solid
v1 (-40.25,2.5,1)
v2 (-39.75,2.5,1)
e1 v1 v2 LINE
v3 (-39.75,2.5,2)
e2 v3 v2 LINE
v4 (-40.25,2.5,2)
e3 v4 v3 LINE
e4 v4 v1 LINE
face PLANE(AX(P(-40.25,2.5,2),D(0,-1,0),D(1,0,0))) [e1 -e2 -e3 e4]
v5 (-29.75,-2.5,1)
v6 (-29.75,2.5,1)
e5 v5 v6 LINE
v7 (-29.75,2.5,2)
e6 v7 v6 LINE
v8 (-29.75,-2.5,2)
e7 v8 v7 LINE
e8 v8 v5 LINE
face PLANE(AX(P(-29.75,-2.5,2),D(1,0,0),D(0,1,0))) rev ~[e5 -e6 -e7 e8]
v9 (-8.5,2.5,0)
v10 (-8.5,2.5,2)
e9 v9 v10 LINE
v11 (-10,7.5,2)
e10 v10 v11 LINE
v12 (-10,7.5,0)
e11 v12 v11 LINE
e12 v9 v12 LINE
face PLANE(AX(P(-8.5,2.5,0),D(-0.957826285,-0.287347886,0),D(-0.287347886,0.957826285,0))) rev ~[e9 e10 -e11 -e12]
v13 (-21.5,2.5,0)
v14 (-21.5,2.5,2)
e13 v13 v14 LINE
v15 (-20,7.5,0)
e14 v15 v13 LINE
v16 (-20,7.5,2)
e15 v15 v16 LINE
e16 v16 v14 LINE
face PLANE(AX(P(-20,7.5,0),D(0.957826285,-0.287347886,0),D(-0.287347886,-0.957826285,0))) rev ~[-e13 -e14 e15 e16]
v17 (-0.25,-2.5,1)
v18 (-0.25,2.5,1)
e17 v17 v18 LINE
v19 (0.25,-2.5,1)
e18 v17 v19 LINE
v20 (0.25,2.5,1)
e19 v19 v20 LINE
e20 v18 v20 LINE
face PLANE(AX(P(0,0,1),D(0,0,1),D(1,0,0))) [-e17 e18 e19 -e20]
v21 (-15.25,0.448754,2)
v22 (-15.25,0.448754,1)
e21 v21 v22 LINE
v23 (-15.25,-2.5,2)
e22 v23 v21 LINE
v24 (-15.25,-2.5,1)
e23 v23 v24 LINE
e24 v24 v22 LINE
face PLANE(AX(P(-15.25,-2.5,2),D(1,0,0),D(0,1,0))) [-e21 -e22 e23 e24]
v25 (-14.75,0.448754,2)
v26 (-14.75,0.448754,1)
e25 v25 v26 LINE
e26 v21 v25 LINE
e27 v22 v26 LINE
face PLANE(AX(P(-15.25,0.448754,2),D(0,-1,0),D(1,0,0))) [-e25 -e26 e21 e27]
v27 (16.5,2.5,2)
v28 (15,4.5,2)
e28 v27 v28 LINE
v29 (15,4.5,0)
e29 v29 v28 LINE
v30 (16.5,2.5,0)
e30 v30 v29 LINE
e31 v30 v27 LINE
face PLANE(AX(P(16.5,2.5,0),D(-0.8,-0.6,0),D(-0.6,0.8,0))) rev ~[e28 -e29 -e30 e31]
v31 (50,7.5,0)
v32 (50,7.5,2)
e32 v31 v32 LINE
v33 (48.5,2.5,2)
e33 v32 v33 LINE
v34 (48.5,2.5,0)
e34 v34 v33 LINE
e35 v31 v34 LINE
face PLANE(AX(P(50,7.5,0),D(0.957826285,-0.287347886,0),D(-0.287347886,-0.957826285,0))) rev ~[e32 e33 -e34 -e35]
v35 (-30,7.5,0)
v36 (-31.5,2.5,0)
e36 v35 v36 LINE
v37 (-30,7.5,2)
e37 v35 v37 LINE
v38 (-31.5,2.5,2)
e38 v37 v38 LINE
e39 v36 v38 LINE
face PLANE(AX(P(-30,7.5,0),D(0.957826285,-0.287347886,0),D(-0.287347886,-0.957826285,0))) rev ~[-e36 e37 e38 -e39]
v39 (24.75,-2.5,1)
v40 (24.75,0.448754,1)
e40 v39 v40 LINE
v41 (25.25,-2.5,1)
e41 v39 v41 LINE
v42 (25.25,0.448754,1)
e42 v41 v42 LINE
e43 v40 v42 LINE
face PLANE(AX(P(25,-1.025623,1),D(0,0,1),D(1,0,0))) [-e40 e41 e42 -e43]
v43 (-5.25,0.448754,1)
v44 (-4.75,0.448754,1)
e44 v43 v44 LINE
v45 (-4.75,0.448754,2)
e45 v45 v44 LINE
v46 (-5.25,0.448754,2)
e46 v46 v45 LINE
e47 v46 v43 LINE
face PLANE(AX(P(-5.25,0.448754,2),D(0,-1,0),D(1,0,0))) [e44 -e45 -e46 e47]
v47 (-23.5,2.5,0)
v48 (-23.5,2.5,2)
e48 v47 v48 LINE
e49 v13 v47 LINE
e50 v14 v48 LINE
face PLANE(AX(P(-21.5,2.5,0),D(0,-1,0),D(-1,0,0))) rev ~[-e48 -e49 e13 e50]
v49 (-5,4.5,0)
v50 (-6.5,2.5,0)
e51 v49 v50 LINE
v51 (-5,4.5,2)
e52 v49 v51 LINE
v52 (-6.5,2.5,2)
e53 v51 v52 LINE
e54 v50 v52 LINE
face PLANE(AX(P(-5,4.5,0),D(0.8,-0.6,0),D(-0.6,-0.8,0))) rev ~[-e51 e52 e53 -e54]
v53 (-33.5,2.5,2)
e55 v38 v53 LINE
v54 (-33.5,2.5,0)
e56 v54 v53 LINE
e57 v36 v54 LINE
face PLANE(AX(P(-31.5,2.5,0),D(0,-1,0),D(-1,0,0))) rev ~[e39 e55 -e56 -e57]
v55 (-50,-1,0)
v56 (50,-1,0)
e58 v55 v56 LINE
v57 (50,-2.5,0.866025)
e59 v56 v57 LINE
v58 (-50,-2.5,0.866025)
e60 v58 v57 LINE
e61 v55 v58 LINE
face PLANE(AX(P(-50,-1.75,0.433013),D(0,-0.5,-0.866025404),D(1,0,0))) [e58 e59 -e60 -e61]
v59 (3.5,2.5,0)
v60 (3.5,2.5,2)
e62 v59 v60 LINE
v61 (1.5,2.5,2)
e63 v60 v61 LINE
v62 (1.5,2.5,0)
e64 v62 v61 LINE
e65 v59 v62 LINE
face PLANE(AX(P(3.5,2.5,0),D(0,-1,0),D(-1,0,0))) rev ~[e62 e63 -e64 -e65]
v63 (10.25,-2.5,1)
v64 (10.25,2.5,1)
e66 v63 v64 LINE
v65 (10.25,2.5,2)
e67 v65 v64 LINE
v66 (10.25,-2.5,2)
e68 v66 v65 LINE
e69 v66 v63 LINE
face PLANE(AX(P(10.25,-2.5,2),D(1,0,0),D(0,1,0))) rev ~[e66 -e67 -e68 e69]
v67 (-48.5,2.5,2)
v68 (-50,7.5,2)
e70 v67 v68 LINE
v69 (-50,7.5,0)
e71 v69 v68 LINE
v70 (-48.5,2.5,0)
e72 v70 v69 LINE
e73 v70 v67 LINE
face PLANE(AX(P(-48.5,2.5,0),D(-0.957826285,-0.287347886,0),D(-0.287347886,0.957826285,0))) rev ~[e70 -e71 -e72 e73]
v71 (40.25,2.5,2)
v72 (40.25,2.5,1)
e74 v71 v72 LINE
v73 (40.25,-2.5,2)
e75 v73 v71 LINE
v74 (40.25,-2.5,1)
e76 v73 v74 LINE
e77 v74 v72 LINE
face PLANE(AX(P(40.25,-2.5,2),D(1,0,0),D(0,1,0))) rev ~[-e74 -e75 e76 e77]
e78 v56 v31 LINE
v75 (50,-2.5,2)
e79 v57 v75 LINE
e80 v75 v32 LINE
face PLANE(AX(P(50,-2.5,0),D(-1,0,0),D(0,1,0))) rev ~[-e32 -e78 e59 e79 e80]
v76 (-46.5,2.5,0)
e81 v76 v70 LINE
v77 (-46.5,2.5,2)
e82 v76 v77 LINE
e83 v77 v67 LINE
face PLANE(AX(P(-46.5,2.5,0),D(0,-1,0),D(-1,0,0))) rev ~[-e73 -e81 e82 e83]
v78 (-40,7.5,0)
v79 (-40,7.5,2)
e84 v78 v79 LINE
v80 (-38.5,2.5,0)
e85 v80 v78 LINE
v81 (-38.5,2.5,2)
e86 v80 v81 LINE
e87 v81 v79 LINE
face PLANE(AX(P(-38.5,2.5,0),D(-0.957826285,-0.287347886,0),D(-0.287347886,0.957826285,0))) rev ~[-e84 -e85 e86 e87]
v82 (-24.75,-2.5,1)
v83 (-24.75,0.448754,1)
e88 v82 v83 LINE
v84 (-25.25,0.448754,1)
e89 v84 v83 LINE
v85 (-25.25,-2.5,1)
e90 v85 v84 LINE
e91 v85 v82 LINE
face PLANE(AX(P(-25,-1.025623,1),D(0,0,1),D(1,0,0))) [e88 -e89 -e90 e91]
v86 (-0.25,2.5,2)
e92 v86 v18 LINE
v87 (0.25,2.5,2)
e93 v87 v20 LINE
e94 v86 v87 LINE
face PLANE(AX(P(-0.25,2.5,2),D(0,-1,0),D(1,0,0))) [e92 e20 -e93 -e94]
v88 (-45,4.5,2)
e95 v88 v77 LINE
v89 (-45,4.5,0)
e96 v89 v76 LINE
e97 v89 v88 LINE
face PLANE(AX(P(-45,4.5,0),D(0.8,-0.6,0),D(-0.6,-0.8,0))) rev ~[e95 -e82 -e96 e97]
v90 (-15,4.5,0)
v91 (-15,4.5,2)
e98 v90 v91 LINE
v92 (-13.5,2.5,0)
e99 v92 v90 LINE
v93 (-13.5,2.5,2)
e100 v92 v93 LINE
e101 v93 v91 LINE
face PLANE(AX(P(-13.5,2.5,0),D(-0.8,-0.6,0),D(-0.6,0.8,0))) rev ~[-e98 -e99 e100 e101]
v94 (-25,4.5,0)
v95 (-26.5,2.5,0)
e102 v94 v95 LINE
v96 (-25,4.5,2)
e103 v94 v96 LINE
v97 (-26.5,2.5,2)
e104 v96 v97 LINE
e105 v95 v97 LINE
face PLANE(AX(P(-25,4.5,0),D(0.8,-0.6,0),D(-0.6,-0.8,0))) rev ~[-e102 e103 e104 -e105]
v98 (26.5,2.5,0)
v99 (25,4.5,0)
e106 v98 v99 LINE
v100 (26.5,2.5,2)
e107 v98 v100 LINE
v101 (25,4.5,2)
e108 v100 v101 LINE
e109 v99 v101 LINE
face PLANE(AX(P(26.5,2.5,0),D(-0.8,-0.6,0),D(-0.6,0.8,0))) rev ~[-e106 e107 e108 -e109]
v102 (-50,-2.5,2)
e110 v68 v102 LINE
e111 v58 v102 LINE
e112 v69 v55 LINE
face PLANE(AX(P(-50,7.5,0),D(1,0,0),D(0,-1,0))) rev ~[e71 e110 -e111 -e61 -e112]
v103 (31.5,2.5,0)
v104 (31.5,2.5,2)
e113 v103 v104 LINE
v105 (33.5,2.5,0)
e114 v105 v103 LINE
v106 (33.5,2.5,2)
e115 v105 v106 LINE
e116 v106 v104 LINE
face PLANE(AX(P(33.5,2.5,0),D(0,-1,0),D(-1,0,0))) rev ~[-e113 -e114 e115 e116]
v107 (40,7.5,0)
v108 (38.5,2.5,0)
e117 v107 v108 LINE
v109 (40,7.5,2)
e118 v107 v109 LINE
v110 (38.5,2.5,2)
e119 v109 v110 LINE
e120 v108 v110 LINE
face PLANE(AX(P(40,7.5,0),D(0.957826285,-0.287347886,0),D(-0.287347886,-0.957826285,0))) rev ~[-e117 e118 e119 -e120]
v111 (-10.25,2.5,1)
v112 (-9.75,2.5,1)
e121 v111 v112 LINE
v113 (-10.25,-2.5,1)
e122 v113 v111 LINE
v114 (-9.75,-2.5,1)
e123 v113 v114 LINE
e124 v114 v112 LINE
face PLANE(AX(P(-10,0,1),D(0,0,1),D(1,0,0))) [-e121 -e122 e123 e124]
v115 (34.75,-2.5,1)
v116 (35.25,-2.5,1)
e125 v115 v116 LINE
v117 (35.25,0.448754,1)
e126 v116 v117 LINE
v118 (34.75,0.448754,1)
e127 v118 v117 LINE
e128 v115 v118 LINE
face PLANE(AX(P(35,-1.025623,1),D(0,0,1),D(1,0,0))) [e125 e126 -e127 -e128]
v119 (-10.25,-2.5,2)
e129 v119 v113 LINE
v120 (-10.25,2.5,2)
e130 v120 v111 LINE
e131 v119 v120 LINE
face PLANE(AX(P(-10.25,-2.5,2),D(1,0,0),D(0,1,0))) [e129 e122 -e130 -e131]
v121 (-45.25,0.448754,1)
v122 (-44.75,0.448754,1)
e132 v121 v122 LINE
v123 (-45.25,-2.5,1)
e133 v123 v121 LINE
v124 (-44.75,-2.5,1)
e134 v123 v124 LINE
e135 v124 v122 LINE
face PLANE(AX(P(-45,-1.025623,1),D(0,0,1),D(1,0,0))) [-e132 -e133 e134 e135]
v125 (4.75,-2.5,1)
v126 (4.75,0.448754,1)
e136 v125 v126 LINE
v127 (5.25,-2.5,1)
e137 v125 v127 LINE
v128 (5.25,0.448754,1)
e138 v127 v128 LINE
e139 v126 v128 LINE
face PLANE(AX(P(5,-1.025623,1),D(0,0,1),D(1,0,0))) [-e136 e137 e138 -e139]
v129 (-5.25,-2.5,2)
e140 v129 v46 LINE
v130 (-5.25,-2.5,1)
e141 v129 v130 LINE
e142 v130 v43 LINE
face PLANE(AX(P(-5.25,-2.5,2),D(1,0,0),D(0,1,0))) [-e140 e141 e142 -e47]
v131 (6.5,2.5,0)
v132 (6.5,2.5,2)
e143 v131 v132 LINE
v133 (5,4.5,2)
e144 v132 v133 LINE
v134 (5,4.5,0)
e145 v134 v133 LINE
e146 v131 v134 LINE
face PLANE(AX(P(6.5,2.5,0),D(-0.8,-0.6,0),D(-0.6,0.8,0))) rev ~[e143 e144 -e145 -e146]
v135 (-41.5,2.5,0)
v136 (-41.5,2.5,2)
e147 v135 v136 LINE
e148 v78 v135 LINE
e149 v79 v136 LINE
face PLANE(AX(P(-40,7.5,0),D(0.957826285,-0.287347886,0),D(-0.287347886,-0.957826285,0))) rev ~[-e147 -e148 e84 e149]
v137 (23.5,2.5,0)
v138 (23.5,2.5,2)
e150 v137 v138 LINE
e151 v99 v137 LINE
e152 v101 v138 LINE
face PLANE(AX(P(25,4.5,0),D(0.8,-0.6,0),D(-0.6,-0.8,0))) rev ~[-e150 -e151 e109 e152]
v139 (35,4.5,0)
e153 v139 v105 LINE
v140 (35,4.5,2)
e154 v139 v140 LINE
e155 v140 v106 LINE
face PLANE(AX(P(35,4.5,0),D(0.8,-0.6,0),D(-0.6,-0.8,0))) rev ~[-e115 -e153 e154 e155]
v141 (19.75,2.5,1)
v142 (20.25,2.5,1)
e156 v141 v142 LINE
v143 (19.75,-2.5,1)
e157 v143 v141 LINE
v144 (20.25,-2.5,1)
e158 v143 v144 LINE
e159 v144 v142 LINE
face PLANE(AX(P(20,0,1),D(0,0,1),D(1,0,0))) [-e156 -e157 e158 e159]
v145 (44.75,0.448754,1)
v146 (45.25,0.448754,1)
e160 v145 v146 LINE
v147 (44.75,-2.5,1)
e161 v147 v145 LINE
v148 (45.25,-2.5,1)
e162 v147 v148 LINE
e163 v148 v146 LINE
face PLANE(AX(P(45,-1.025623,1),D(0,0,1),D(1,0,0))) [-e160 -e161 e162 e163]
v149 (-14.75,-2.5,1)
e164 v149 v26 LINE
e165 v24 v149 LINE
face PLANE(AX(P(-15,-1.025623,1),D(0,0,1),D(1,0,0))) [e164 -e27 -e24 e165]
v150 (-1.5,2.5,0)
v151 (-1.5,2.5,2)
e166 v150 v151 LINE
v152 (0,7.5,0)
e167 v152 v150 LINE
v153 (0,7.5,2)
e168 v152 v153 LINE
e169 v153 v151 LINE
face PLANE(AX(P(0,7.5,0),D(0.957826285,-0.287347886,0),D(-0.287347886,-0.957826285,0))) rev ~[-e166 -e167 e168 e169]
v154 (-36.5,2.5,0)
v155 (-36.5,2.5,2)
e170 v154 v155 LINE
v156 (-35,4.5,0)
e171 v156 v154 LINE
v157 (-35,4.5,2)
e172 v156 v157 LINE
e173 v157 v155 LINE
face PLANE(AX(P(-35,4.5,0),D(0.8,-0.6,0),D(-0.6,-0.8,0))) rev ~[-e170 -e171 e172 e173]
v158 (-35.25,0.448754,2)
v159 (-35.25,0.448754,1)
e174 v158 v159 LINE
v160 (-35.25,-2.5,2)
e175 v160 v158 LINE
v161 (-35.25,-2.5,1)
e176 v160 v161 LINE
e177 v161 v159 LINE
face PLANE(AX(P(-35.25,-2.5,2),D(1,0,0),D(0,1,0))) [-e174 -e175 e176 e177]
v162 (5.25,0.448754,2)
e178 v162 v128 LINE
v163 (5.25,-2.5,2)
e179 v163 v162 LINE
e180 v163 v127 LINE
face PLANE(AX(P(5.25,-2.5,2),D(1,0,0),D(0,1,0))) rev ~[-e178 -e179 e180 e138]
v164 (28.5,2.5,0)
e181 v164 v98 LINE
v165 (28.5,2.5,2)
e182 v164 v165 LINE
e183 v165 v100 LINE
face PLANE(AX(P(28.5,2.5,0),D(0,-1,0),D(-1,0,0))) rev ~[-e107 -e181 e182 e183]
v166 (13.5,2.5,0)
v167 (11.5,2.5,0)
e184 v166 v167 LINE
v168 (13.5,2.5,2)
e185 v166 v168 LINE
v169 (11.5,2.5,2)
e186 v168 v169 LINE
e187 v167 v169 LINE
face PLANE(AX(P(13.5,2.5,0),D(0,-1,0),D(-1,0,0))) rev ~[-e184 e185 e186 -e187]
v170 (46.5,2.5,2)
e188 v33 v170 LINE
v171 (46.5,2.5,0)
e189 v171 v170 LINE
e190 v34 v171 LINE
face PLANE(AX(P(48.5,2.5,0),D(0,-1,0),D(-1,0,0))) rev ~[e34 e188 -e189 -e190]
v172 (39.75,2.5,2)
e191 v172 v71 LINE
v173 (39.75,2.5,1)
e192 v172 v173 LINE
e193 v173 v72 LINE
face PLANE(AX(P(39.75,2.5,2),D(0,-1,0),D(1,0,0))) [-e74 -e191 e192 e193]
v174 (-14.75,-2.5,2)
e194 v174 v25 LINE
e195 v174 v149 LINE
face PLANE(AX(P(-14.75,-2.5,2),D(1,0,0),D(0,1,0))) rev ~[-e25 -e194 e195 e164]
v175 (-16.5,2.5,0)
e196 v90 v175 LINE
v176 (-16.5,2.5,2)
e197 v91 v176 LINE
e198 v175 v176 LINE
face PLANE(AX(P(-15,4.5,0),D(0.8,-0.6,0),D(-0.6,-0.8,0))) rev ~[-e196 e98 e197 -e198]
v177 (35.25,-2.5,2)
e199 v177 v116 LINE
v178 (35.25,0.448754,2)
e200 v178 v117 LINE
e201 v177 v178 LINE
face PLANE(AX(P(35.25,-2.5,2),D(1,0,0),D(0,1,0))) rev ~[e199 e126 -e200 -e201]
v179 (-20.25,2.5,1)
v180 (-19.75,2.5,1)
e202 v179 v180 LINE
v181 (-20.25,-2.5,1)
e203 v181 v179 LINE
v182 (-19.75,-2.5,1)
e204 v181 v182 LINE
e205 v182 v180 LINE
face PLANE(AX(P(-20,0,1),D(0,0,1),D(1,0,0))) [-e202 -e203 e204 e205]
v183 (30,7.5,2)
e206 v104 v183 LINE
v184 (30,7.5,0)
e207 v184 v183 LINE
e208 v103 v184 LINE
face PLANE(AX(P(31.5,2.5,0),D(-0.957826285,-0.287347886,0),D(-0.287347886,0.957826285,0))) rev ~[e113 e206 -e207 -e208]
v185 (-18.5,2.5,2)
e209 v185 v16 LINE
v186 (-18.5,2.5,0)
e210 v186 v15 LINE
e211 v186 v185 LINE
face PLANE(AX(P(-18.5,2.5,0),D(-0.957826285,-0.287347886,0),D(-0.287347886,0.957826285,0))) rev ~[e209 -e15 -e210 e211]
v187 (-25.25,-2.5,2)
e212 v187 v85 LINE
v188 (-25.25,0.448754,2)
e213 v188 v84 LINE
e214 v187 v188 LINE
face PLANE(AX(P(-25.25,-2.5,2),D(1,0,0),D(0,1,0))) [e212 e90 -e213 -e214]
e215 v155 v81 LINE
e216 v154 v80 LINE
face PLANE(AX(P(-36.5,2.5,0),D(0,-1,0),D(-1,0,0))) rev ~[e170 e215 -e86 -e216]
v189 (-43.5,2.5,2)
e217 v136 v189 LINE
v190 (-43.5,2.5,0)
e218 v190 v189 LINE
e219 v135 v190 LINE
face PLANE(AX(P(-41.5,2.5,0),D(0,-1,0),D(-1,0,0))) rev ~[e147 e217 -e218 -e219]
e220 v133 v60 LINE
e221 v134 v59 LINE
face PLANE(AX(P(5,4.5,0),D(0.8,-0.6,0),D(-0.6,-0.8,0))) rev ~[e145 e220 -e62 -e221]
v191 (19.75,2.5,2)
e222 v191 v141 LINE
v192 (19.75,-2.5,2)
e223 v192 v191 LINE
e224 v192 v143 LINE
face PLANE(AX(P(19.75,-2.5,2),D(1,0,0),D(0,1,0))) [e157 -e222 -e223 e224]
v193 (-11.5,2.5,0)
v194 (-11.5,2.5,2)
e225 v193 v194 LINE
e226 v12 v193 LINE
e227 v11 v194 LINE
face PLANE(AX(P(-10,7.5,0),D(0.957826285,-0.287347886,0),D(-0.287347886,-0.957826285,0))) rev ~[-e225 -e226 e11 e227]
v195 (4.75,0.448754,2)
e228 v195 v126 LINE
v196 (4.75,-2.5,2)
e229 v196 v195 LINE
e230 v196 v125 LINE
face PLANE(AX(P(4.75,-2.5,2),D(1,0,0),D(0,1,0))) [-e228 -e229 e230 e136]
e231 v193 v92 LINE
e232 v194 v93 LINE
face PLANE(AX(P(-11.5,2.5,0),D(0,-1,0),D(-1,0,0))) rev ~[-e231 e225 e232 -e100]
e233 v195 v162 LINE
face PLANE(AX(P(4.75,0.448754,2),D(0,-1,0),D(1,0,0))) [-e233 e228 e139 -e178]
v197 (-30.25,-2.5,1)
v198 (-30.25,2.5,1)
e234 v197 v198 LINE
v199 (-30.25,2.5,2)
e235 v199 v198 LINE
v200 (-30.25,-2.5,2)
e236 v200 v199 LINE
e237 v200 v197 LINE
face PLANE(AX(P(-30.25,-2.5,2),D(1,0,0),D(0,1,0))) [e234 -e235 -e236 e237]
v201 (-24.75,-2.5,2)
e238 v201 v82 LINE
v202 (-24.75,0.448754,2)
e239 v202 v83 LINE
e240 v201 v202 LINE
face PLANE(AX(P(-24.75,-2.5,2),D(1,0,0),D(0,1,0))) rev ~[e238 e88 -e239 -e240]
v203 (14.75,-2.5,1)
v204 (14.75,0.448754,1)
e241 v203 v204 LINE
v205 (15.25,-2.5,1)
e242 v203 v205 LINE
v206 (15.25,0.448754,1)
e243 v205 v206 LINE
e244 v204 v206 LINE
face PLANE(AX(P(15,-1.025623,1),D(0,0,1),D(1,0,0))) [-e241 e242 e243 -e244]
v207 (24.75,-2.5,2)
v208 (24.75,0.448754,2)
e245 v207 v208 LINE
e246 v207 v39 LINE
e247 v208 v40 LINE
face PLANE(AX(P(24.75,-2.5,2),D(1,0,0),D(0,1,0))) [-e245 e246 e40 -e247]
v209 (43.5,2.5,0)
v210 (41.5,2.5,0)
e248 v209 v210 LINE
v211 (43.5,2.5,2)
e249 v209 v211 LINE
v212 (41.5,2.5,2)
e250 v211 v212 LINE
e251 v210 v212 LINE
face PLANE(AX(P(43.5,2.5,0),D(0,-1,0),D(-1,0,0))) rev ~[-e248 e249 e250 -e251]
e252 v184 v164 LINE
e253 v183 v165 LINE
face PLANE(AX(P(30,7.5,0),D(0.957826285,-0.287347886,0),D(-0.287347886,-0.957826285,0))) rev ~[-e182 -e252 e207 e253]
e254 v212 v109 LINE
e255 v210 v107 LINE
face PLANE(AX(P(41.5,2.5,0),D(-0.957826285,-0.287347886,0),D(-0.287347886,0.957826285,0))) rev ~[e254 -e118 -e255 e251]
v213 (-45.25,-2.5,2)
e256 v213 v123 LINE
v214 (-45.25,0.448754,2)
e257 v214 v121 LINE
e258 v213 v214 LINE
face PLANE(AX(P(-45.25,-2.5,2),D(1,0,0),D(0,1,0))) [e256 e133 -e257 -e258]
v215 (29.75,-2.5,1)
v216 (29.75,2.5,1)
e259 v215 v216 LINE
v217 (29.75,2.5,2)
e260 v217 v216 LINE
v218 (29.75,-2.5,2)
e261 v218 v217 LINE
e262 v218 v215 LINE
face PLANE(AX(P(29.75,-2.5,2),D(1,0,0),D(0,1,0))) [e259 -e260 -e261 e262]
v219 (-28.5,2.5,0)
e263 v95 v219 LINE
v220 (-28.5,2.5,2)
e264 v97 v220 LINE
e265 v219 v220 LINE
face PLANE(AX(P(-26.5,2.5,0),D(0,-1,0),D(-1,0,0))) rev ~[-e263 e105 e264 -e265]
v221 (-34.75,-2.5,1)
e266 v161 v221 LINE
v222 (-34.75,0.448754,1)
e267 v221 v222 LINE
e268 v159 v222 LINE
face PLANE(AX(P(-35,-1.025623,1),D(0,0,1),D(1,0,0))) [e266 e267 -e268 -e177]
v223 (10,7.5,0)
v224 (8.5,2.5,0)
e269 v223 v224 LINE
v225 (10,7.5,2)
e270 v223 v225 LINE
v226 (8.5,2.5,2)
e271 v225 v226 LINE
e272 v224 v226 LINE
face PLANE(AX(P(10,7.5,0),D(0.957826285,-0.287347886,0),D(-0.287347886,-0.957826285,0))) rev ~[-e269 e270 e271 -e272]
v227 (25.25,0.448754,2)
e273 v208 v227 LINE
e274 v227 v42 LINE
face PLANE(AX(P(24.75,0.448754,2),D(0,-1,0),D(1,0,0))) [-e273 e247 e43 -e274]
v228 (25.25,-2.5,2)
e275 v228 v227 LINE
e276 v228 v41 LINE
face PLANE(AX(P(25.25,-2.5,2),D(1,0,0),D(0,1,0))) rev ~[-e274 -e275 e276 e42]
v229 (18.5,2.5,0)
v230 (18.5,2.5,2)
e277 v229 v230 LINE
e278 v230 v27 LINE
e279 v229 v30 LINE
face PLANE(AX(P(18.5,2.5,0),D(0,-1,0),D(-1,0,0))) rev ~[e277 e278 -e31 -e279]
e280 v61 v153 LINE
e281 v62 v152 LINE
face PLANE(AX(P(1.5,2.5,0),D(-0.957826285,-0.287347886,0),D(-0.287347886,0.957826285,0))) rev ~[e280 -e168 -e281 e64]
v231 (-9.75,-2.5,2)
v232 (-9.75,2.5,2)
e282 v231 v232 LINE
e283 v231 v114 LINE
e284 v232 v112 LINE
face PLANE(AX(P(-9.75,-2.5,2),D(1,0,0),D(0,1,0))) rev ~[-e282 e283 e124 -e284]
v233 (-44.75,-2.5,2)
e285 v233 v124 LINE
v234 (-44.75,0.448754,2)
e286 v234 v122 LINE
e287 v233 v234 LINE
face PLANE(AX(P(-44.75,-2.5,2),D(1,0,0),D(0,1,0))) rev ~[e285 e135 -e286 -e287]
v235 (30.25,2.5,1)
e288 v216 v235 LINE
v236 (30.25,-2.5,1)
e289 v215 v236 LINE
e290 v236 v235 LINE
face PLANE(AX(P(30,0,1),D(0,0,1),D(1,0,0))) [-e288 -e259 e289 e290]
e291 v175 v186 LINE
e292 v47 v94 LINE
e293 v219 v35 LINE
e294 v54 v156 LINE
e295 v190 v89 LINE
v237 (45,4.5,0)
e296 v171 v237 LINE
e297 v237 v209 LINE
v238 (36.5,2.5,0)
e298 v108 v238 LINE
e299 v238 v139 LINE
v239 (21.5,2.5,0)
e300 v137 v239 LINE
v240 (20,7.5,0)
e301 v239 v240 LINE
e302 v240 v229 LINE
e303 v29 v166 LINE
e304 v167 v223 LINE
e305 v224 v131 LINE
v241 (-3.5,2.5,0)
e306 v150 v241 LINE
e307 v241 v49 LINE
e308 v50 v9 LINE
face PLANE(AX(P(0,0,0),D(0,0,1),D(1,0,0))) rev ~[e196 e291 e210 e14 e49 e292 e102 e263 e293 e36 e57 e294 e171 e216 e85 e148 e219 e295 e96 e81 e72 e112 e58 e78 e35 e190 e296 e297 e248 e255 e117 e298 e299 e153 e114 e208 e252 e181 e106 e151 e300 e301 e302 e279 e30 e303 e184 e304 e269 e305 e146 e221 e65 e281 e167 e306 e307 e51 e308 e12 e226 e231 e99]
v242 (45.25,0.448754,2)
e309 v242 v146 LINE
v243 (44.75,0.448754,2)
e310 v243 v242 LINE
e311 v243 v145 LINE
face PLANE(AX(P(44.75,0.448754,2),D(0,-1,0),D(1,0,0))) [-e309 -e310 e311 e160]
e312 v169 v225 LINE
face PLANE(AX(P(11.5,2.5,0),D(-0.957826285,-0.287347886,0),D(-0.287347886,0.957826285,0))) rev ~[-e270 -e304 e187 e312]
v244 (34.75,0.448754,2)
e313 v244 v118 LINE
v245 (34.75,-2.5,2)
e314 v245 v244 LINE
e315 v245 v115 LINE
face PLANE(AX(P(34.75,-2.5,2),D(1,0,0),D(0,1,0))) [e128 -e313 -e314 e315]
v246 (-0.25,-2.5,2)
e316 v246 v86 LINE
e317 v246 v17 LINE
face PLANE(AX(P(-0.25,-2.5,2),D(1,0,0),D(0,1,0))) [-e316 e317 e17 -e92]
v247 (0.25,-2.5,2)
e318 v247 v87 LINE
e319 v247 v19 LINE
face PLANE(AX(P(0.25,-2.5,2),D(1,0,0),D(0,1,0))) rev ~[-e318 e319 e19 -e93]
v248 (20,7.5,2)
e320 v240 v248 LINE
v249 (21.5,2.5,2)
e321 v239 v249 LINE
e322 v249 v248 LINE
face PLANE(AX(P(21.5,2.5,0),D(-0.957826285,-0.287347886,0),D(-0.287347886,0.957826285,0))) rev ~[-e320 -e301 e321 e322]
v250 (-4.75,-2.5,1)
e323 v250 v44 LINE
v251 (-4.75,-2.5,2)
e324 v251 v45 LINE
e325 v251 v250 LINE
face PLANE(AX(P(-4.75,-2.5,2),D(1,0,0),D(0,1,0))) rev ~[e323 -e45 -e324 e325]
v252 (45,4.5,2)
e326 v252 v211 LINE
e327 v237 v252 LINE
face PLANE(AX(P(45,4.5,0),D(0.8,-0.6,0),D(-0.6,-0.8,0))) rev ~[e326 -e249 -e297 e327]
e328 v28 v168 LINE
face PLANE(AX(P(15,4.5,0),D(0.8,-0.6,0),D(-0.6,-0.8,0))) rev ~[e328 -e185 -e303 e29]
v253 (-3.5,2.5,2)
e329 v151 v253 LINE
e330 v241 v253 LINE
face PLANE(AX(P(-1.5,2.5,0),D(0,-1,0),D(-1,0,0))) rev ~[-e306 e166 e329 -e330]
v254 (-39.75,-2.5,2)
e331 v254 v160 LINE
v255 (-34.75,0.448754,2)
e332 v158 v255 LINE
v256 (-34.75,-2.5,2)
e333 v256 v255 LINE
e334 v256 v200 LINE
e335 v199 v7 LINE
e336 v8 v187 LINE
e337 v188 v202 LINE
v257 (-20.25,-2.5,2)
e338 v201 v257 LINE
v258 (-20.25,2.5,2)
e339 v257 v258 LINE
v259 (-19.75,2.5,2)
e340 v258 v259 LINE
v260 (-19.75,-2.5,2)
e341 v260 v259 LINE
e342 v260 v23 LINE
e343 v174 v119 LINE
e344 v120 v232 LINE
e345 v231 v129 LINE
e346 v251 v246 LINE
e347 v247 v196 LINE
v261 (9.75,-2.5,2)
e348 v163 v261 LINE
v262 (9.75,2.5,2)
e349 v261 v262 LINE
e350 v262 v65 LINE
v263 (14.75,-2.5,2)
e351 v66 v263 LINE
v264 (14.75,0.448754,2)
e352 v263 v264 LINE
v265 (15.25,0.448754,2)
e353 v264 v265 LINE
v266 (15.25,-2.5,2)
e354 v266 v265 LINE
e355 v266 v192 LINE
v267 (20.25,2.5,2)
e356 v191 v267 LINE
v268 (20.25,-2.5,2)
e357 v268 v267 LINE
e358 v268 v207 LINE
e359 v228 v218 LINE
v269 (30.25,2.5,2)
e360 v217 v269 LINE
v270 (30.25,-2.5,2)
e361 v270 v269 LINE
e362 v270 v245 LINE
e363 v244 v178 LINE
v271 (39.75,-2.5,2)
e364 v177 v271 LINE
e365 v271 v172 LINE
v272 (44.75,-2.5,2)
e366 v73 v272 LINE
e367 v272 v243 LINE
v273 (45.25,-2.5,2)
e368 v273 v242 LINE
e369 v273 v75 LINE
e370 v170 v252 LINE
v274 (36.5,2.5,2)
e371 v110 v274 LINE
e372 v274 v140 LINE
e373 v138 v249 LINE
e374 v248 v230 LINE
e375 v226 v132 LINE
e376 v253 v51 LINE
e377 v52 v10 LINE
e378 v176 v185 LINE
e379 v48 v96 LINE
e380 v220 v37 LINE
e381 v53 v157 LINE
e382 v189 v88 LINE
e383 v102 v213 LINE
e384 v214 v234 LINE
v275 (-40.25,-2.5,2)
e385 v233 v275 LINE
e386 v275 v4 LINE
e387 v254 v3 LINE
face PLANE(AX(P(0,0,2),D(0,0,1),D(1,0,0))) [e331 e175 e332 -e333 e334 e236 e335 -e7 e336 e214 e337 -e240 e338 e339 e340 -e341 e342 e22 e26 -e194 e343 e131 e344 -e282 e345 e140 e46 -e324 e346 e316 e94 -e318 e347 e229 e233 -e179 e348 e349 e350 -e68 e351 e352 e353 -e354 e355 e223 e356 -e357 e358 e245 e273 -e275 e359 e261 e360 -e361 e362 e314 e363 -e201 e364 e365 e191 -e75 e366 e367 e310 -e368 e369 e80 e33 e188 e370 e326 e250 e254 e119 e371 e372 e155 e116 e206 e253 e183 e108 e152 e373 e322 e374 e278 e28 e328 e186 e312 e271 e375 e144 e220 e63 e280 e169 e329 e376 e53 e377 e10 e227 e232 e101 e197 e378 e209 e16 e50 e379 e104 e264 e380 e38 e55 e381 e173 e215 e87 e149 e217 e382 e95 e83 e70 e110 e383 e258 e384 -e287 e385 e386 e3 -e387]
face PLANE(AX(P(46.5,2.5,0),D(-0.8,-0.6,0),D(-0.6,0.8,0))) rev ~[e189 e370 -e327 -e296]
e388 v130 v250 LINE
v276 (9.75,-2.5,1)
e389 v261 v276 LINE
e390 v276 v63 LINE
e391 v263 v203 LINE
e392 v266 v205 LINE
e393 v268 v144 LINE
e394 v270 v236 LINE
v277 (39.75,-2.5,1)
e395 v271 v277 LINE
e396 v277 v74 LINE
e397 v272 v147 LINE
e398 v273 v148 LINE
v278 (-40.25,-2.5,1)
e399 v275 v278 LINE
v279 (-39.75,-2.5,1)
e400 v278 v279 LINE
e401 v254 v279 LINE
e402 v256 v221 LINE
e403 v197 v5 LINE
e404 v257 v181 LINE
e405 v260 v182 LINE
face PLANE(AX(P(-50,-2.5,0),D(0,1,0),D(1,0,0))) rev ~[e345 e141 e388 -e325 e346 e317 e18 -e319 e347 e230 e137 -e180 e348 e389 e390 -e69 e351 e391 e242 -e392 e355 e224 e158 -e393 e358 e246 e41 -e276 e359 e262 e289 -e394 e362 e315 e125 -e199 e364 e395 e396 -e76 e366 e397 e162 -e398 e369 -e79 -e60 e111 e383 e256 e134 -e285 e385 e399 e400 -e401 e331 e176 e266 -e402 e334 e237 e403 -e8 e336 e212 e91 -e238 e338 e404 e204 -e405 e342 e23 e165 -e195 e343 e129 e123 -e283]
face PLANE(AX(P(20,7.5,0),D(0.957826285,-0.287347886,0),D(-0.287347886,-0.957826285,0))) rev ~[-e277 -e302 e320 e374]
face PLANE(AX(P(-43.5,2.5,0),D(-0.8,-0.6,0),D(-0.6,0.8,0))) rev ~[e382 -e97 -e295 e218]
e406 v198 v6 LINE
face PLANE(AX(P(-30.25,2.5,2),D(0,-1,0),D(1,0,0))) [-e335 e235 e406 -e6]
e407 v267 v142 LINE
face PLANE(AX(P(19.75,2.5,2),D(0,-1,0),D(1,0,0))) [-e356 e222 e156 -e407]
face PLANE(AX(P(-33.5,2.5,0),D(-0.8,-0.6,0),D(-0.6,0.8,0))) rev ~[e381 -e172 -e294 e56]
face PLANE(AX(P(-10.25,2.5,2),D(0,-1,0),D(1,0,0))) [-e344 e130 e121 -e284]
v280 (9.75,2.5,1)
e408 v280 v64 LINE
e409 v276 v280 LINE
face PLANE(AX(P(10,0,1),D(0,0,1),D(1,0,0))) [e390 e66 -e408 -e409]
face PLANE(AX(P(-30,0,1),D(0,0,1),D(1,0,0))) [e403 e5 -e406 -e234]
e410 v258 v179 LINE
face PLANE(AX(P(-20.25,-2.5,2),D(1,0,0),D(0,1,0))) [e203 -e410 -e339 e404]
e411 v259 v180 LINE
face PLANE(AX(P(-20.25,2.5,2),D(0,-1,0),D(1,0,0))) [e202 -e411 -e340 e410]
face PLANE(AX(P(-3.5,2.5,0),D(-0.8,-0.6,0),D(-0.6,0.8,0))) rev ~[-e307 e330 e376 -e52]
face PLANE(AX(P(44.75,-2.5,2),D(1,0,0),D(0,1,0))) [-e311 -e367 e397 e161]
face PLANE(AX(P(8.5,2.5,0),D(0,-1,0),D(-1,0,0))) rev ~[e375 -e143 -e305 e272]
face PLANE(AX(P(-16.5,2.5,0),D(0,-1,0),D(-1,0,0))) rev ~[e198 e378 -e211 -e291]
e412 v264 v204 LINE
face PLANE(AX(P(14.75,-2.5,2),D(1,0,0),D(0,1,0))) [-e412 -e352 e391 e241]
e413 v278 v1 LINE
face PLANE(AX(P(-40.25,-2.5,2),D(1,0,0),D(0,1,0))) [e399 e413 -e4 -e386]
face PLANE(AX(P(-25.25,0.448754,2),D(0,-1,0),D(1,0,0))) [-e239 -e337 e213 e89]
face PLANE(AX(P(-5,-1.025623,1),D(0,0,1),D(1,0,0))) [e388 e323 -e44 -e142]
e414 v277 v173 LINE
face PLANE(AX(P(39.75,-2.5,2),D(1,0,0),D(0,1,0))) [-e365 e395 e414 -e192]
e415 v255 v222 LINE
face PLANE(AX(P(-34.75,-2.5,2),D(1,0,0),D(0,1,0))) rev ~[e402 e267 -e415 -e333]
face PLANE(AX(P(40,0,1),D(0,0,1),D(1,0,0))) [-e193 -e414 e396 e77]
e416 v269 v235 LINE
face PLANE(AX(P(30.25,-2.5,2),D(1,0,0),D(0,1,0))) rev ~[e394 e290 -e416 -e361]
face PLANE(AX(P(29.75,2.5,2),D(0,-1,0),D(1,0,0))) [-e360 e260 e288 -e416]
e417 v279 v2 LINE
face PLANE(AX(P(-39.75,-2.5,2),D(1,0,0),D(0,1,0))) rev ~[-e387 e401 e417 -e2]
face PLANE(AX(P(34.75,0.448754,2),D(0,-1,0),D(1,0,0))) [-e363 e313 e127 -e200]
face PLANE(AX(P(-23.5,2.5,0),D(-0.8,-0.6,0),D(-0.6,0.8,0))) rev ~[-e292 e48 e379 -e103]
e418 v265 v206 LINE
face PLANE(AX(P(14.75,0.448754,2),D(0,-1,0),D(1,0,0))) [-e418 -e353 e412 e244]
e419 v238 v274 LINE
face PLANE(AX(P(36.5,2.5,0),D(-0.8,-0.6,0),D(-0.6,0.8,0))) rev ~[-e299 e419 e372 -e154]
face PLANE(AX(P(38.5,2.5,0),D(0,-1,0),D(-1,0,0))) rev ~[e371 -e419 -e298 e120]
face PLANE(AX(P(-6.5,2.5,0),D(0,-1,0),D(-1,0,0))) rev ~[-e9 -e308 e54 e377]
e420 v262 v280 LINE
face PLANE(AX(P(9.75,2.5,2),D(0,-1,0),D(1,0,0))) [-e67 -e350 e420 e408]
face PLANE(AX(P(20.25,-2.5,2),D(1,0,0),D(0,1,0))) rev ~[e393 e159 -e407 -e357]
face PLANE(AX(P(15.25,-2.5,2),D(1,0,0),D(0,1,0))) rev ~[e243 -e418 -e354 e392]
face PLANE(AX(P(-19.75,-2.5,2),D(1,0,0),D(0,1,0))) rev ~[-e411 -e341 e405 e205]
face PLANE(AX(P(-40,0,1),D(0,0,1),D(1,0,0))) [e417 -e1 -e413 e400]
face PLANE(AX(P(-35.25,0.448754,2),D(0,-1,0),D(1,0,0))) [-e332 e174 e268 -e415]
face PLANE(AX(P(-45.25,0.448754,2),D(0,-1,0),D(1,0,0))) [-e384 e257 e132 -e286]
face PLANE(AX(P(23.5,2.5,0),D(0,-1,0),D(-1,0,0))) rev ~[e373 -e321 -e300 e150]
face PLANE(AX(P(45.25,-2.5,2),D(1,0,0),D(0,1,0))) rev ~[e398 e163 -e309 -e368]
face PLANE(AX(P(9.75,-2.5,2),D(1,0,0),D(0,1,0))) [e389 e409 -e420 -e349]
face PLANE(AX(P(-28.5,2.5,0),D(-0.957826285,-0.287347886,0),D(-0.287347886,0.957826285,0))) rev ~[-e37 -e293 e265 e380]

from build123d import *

# Parameters (mm, degrees)
F1_DEPTH = 2
F2_SIZE2 = 0.8660254038
F2_SIZE  = 1.5
F3_W     = 0.5
F3_H     = 5
F3_H_2   = 2.9487536475
F4_DEPTH = 1


with BuildPart() as f1:
    # F0 (on Top) → F1 (new body)
    with BuildSketch(Plane.XY):
        Polygon((-50, -2.5), (50, -2.5), (50, 2.5), (48.5, 2.5), (46.5, 2.5), (43.5, 2.5), (41.5, 2.5), (38.5, 2.5), (36.5, 2.5), (33.5, 2.5), (31.5, 2.5), (28.5, 2.5), (26.5, 2.5), (23.5, 2.5), (21.5, 2.5), (18.5, 2.5), (16.5, 2.5), (13.5, 2.5), (11.5, 2.5), (8.5, 2.5), (6.5, 2.5), (3.5, 2.5), (1.5, 2.5), (-1.5, 2.5), (-3.5, 2.5), (-6.5, 2.5), (-8.5, 2.5), (-11.5, 2.5), (-13.5, 2.5), (-16.5, 2.5), (-18.5, 2.5), (-21.5, 2.5), (-23.5, 2.5), (-26.5, 2.5), (-28.5, 2.5), (-31.5, 2.5), (-33.5, 2.5), (-36.5, 2.5), (-38.5, 2.5), (-40, 2.5), (-41.5, 2.5), (-43.5, 2.5), (-46.5, 2.5), (-48.5, 2.5), (-50, 2.5), align=None)
        Polygon((48.5, 2.5), (50, 2.5), (50, 7.5), align=None)
        Polygon((-50, 7.5), (-50, 2.5), (-48.5, 2.5), align=None)
        Polygon((43.5, 2.5), (46.5, 2.5), (45, 4.5), align=None)
        Polygon((-45, 4.5), (-46.5, 2.5), (-43.5, 2.5), align=None)
        Polygon((38.5, 2.5), (41.5, 2.5), (40, 7.5), align=None)
        Polygon((-40, 7.5), (-41.5, 2.5), (-40, 2.5), (-38.5, 2.5), align=None)
        Polygon((33.5, 2.5), (36.5, 2.5), (35, 4.5), align=None)
        Polygon((-35, 4.5), (-36.5, 2.5), (-33.5, 2.5), align=None)
        Polygon((28.5, 2.5), (31.5, 2.5), (30, 7.5), align=None)
        Polygon((-30, 7.5), (-31.5, 2.5), (-28.5, 2.5), align=None)
        Polygon((23.5, 2.5), (26.5, 2.5), (25, 4.5), align=None)
        Polygon((-25, 4.5), (-26.5, 2.5), (-23.5, 2.5), align=None)
        Polygon((18.5, 2.5), (21.5, 2.5), (20, 7.5), align=None)
        Polygon((-20, 7.5), (-21.5, 2.5), (-18.5, 2.5), align=None)
        Polygon((13.5, 2.5), (16.5, 2.5), (15, 4.5), align=None)
        Polygon((-15, 4.5), (-16.5, 2.5), (-13.5, 2.5), align=None)
        Polygon((8.5, 2.5), (11.5, 2.5), (10, 7.5), align=None)
        Polygon((-10, 7.5), (-11.5, 2.5), (-8.5, 2.5), align=None)
        Polygon((3.5, 2.5), (6.5, 2.5), (5, 4.5), align=None)
        Polygon((-5, 4.5), (-6.5, 2.5), (-3.5, 2.5), align=None)
        Polygon((-1.5, 2.5), (1.5, 2.5), (0, 7.5), align=None)
    extrude(amount=F1_DEPTH)

    # F2
    f2_edges = [f1.edges().sort_by_distance(p)[0] for p in [
        (0, -2.5, 0),
    ]]
    f2_side = f1.faces().sort_by_distance((0, 0.673554, 0))[0]
    chamfer(f2_edges, length=F2_SIZE, length2=F2_SIZE2, reference=f2_side)

    # F3 (on face) → F4 (cut)
    with BuildSketch(Plane.XY.offset(2)):
        with Locations((-40, 0)):
            Rectangle(F3_W, F3_H)
        with Locations((-30, 0)):
            Rectangle(F3_W, F3_H)
        with Locations((-20, 0)):
            Rectangle(F3_W, F3_H)
        with Locations((-10, 0)):
            Rectangle(F3_W, F3_H)
        Rectangle(F3_W, F3_H)
        with Locations((10, 0)):
            Rectangle(F3_W, F3_H)
        with Locations((20, 0)):
            Rectangle(F3_W, F3_H)
        with Locations((30, 0)):
            Rectangle(F3_W, F3_H)
        with Locations((40, 0)):
            Rectangle(F3_W, F3_H)
        with Locations((-45, -1.0256231762)):
            Rectangle(F3_W, F3_H_2)
        with Locations((-35, -1.0256231762)):
            Rectangle(F3_W, F3_H_2)
        with Locations((-25, -1.0256231762)):
            Rectangle(F3_W, F3_H_2)
        with Locations((-15, -1.0256231762)):
            Rectangle(F3_W, F3_H_2)
        with Locations((-5, -1.0256231762)):
            Rectangle(F3_W, F3_H_2)
        with Locations((5, -1.0256231762)):
            Rectangle(F3_W, F3_H_2)
        with Locations((15, -1.0256231762)):
            Rectangle(F3_W, F3_H_2)
        with Locations((25, -1.0256231762)):
            Rectangle(F3_W, F3_H_2)
        with Locations((35, -1.0256231762)):
            Rectangle(F3_W, F3_H_2)
        with Locations((45, -1.0256231762)):
            Rectangle(F3_W, F3_H_2)
    extrude(amount=-F4_DEPTH, mode=Mode.SUBTRACT)


solid = f1.part
